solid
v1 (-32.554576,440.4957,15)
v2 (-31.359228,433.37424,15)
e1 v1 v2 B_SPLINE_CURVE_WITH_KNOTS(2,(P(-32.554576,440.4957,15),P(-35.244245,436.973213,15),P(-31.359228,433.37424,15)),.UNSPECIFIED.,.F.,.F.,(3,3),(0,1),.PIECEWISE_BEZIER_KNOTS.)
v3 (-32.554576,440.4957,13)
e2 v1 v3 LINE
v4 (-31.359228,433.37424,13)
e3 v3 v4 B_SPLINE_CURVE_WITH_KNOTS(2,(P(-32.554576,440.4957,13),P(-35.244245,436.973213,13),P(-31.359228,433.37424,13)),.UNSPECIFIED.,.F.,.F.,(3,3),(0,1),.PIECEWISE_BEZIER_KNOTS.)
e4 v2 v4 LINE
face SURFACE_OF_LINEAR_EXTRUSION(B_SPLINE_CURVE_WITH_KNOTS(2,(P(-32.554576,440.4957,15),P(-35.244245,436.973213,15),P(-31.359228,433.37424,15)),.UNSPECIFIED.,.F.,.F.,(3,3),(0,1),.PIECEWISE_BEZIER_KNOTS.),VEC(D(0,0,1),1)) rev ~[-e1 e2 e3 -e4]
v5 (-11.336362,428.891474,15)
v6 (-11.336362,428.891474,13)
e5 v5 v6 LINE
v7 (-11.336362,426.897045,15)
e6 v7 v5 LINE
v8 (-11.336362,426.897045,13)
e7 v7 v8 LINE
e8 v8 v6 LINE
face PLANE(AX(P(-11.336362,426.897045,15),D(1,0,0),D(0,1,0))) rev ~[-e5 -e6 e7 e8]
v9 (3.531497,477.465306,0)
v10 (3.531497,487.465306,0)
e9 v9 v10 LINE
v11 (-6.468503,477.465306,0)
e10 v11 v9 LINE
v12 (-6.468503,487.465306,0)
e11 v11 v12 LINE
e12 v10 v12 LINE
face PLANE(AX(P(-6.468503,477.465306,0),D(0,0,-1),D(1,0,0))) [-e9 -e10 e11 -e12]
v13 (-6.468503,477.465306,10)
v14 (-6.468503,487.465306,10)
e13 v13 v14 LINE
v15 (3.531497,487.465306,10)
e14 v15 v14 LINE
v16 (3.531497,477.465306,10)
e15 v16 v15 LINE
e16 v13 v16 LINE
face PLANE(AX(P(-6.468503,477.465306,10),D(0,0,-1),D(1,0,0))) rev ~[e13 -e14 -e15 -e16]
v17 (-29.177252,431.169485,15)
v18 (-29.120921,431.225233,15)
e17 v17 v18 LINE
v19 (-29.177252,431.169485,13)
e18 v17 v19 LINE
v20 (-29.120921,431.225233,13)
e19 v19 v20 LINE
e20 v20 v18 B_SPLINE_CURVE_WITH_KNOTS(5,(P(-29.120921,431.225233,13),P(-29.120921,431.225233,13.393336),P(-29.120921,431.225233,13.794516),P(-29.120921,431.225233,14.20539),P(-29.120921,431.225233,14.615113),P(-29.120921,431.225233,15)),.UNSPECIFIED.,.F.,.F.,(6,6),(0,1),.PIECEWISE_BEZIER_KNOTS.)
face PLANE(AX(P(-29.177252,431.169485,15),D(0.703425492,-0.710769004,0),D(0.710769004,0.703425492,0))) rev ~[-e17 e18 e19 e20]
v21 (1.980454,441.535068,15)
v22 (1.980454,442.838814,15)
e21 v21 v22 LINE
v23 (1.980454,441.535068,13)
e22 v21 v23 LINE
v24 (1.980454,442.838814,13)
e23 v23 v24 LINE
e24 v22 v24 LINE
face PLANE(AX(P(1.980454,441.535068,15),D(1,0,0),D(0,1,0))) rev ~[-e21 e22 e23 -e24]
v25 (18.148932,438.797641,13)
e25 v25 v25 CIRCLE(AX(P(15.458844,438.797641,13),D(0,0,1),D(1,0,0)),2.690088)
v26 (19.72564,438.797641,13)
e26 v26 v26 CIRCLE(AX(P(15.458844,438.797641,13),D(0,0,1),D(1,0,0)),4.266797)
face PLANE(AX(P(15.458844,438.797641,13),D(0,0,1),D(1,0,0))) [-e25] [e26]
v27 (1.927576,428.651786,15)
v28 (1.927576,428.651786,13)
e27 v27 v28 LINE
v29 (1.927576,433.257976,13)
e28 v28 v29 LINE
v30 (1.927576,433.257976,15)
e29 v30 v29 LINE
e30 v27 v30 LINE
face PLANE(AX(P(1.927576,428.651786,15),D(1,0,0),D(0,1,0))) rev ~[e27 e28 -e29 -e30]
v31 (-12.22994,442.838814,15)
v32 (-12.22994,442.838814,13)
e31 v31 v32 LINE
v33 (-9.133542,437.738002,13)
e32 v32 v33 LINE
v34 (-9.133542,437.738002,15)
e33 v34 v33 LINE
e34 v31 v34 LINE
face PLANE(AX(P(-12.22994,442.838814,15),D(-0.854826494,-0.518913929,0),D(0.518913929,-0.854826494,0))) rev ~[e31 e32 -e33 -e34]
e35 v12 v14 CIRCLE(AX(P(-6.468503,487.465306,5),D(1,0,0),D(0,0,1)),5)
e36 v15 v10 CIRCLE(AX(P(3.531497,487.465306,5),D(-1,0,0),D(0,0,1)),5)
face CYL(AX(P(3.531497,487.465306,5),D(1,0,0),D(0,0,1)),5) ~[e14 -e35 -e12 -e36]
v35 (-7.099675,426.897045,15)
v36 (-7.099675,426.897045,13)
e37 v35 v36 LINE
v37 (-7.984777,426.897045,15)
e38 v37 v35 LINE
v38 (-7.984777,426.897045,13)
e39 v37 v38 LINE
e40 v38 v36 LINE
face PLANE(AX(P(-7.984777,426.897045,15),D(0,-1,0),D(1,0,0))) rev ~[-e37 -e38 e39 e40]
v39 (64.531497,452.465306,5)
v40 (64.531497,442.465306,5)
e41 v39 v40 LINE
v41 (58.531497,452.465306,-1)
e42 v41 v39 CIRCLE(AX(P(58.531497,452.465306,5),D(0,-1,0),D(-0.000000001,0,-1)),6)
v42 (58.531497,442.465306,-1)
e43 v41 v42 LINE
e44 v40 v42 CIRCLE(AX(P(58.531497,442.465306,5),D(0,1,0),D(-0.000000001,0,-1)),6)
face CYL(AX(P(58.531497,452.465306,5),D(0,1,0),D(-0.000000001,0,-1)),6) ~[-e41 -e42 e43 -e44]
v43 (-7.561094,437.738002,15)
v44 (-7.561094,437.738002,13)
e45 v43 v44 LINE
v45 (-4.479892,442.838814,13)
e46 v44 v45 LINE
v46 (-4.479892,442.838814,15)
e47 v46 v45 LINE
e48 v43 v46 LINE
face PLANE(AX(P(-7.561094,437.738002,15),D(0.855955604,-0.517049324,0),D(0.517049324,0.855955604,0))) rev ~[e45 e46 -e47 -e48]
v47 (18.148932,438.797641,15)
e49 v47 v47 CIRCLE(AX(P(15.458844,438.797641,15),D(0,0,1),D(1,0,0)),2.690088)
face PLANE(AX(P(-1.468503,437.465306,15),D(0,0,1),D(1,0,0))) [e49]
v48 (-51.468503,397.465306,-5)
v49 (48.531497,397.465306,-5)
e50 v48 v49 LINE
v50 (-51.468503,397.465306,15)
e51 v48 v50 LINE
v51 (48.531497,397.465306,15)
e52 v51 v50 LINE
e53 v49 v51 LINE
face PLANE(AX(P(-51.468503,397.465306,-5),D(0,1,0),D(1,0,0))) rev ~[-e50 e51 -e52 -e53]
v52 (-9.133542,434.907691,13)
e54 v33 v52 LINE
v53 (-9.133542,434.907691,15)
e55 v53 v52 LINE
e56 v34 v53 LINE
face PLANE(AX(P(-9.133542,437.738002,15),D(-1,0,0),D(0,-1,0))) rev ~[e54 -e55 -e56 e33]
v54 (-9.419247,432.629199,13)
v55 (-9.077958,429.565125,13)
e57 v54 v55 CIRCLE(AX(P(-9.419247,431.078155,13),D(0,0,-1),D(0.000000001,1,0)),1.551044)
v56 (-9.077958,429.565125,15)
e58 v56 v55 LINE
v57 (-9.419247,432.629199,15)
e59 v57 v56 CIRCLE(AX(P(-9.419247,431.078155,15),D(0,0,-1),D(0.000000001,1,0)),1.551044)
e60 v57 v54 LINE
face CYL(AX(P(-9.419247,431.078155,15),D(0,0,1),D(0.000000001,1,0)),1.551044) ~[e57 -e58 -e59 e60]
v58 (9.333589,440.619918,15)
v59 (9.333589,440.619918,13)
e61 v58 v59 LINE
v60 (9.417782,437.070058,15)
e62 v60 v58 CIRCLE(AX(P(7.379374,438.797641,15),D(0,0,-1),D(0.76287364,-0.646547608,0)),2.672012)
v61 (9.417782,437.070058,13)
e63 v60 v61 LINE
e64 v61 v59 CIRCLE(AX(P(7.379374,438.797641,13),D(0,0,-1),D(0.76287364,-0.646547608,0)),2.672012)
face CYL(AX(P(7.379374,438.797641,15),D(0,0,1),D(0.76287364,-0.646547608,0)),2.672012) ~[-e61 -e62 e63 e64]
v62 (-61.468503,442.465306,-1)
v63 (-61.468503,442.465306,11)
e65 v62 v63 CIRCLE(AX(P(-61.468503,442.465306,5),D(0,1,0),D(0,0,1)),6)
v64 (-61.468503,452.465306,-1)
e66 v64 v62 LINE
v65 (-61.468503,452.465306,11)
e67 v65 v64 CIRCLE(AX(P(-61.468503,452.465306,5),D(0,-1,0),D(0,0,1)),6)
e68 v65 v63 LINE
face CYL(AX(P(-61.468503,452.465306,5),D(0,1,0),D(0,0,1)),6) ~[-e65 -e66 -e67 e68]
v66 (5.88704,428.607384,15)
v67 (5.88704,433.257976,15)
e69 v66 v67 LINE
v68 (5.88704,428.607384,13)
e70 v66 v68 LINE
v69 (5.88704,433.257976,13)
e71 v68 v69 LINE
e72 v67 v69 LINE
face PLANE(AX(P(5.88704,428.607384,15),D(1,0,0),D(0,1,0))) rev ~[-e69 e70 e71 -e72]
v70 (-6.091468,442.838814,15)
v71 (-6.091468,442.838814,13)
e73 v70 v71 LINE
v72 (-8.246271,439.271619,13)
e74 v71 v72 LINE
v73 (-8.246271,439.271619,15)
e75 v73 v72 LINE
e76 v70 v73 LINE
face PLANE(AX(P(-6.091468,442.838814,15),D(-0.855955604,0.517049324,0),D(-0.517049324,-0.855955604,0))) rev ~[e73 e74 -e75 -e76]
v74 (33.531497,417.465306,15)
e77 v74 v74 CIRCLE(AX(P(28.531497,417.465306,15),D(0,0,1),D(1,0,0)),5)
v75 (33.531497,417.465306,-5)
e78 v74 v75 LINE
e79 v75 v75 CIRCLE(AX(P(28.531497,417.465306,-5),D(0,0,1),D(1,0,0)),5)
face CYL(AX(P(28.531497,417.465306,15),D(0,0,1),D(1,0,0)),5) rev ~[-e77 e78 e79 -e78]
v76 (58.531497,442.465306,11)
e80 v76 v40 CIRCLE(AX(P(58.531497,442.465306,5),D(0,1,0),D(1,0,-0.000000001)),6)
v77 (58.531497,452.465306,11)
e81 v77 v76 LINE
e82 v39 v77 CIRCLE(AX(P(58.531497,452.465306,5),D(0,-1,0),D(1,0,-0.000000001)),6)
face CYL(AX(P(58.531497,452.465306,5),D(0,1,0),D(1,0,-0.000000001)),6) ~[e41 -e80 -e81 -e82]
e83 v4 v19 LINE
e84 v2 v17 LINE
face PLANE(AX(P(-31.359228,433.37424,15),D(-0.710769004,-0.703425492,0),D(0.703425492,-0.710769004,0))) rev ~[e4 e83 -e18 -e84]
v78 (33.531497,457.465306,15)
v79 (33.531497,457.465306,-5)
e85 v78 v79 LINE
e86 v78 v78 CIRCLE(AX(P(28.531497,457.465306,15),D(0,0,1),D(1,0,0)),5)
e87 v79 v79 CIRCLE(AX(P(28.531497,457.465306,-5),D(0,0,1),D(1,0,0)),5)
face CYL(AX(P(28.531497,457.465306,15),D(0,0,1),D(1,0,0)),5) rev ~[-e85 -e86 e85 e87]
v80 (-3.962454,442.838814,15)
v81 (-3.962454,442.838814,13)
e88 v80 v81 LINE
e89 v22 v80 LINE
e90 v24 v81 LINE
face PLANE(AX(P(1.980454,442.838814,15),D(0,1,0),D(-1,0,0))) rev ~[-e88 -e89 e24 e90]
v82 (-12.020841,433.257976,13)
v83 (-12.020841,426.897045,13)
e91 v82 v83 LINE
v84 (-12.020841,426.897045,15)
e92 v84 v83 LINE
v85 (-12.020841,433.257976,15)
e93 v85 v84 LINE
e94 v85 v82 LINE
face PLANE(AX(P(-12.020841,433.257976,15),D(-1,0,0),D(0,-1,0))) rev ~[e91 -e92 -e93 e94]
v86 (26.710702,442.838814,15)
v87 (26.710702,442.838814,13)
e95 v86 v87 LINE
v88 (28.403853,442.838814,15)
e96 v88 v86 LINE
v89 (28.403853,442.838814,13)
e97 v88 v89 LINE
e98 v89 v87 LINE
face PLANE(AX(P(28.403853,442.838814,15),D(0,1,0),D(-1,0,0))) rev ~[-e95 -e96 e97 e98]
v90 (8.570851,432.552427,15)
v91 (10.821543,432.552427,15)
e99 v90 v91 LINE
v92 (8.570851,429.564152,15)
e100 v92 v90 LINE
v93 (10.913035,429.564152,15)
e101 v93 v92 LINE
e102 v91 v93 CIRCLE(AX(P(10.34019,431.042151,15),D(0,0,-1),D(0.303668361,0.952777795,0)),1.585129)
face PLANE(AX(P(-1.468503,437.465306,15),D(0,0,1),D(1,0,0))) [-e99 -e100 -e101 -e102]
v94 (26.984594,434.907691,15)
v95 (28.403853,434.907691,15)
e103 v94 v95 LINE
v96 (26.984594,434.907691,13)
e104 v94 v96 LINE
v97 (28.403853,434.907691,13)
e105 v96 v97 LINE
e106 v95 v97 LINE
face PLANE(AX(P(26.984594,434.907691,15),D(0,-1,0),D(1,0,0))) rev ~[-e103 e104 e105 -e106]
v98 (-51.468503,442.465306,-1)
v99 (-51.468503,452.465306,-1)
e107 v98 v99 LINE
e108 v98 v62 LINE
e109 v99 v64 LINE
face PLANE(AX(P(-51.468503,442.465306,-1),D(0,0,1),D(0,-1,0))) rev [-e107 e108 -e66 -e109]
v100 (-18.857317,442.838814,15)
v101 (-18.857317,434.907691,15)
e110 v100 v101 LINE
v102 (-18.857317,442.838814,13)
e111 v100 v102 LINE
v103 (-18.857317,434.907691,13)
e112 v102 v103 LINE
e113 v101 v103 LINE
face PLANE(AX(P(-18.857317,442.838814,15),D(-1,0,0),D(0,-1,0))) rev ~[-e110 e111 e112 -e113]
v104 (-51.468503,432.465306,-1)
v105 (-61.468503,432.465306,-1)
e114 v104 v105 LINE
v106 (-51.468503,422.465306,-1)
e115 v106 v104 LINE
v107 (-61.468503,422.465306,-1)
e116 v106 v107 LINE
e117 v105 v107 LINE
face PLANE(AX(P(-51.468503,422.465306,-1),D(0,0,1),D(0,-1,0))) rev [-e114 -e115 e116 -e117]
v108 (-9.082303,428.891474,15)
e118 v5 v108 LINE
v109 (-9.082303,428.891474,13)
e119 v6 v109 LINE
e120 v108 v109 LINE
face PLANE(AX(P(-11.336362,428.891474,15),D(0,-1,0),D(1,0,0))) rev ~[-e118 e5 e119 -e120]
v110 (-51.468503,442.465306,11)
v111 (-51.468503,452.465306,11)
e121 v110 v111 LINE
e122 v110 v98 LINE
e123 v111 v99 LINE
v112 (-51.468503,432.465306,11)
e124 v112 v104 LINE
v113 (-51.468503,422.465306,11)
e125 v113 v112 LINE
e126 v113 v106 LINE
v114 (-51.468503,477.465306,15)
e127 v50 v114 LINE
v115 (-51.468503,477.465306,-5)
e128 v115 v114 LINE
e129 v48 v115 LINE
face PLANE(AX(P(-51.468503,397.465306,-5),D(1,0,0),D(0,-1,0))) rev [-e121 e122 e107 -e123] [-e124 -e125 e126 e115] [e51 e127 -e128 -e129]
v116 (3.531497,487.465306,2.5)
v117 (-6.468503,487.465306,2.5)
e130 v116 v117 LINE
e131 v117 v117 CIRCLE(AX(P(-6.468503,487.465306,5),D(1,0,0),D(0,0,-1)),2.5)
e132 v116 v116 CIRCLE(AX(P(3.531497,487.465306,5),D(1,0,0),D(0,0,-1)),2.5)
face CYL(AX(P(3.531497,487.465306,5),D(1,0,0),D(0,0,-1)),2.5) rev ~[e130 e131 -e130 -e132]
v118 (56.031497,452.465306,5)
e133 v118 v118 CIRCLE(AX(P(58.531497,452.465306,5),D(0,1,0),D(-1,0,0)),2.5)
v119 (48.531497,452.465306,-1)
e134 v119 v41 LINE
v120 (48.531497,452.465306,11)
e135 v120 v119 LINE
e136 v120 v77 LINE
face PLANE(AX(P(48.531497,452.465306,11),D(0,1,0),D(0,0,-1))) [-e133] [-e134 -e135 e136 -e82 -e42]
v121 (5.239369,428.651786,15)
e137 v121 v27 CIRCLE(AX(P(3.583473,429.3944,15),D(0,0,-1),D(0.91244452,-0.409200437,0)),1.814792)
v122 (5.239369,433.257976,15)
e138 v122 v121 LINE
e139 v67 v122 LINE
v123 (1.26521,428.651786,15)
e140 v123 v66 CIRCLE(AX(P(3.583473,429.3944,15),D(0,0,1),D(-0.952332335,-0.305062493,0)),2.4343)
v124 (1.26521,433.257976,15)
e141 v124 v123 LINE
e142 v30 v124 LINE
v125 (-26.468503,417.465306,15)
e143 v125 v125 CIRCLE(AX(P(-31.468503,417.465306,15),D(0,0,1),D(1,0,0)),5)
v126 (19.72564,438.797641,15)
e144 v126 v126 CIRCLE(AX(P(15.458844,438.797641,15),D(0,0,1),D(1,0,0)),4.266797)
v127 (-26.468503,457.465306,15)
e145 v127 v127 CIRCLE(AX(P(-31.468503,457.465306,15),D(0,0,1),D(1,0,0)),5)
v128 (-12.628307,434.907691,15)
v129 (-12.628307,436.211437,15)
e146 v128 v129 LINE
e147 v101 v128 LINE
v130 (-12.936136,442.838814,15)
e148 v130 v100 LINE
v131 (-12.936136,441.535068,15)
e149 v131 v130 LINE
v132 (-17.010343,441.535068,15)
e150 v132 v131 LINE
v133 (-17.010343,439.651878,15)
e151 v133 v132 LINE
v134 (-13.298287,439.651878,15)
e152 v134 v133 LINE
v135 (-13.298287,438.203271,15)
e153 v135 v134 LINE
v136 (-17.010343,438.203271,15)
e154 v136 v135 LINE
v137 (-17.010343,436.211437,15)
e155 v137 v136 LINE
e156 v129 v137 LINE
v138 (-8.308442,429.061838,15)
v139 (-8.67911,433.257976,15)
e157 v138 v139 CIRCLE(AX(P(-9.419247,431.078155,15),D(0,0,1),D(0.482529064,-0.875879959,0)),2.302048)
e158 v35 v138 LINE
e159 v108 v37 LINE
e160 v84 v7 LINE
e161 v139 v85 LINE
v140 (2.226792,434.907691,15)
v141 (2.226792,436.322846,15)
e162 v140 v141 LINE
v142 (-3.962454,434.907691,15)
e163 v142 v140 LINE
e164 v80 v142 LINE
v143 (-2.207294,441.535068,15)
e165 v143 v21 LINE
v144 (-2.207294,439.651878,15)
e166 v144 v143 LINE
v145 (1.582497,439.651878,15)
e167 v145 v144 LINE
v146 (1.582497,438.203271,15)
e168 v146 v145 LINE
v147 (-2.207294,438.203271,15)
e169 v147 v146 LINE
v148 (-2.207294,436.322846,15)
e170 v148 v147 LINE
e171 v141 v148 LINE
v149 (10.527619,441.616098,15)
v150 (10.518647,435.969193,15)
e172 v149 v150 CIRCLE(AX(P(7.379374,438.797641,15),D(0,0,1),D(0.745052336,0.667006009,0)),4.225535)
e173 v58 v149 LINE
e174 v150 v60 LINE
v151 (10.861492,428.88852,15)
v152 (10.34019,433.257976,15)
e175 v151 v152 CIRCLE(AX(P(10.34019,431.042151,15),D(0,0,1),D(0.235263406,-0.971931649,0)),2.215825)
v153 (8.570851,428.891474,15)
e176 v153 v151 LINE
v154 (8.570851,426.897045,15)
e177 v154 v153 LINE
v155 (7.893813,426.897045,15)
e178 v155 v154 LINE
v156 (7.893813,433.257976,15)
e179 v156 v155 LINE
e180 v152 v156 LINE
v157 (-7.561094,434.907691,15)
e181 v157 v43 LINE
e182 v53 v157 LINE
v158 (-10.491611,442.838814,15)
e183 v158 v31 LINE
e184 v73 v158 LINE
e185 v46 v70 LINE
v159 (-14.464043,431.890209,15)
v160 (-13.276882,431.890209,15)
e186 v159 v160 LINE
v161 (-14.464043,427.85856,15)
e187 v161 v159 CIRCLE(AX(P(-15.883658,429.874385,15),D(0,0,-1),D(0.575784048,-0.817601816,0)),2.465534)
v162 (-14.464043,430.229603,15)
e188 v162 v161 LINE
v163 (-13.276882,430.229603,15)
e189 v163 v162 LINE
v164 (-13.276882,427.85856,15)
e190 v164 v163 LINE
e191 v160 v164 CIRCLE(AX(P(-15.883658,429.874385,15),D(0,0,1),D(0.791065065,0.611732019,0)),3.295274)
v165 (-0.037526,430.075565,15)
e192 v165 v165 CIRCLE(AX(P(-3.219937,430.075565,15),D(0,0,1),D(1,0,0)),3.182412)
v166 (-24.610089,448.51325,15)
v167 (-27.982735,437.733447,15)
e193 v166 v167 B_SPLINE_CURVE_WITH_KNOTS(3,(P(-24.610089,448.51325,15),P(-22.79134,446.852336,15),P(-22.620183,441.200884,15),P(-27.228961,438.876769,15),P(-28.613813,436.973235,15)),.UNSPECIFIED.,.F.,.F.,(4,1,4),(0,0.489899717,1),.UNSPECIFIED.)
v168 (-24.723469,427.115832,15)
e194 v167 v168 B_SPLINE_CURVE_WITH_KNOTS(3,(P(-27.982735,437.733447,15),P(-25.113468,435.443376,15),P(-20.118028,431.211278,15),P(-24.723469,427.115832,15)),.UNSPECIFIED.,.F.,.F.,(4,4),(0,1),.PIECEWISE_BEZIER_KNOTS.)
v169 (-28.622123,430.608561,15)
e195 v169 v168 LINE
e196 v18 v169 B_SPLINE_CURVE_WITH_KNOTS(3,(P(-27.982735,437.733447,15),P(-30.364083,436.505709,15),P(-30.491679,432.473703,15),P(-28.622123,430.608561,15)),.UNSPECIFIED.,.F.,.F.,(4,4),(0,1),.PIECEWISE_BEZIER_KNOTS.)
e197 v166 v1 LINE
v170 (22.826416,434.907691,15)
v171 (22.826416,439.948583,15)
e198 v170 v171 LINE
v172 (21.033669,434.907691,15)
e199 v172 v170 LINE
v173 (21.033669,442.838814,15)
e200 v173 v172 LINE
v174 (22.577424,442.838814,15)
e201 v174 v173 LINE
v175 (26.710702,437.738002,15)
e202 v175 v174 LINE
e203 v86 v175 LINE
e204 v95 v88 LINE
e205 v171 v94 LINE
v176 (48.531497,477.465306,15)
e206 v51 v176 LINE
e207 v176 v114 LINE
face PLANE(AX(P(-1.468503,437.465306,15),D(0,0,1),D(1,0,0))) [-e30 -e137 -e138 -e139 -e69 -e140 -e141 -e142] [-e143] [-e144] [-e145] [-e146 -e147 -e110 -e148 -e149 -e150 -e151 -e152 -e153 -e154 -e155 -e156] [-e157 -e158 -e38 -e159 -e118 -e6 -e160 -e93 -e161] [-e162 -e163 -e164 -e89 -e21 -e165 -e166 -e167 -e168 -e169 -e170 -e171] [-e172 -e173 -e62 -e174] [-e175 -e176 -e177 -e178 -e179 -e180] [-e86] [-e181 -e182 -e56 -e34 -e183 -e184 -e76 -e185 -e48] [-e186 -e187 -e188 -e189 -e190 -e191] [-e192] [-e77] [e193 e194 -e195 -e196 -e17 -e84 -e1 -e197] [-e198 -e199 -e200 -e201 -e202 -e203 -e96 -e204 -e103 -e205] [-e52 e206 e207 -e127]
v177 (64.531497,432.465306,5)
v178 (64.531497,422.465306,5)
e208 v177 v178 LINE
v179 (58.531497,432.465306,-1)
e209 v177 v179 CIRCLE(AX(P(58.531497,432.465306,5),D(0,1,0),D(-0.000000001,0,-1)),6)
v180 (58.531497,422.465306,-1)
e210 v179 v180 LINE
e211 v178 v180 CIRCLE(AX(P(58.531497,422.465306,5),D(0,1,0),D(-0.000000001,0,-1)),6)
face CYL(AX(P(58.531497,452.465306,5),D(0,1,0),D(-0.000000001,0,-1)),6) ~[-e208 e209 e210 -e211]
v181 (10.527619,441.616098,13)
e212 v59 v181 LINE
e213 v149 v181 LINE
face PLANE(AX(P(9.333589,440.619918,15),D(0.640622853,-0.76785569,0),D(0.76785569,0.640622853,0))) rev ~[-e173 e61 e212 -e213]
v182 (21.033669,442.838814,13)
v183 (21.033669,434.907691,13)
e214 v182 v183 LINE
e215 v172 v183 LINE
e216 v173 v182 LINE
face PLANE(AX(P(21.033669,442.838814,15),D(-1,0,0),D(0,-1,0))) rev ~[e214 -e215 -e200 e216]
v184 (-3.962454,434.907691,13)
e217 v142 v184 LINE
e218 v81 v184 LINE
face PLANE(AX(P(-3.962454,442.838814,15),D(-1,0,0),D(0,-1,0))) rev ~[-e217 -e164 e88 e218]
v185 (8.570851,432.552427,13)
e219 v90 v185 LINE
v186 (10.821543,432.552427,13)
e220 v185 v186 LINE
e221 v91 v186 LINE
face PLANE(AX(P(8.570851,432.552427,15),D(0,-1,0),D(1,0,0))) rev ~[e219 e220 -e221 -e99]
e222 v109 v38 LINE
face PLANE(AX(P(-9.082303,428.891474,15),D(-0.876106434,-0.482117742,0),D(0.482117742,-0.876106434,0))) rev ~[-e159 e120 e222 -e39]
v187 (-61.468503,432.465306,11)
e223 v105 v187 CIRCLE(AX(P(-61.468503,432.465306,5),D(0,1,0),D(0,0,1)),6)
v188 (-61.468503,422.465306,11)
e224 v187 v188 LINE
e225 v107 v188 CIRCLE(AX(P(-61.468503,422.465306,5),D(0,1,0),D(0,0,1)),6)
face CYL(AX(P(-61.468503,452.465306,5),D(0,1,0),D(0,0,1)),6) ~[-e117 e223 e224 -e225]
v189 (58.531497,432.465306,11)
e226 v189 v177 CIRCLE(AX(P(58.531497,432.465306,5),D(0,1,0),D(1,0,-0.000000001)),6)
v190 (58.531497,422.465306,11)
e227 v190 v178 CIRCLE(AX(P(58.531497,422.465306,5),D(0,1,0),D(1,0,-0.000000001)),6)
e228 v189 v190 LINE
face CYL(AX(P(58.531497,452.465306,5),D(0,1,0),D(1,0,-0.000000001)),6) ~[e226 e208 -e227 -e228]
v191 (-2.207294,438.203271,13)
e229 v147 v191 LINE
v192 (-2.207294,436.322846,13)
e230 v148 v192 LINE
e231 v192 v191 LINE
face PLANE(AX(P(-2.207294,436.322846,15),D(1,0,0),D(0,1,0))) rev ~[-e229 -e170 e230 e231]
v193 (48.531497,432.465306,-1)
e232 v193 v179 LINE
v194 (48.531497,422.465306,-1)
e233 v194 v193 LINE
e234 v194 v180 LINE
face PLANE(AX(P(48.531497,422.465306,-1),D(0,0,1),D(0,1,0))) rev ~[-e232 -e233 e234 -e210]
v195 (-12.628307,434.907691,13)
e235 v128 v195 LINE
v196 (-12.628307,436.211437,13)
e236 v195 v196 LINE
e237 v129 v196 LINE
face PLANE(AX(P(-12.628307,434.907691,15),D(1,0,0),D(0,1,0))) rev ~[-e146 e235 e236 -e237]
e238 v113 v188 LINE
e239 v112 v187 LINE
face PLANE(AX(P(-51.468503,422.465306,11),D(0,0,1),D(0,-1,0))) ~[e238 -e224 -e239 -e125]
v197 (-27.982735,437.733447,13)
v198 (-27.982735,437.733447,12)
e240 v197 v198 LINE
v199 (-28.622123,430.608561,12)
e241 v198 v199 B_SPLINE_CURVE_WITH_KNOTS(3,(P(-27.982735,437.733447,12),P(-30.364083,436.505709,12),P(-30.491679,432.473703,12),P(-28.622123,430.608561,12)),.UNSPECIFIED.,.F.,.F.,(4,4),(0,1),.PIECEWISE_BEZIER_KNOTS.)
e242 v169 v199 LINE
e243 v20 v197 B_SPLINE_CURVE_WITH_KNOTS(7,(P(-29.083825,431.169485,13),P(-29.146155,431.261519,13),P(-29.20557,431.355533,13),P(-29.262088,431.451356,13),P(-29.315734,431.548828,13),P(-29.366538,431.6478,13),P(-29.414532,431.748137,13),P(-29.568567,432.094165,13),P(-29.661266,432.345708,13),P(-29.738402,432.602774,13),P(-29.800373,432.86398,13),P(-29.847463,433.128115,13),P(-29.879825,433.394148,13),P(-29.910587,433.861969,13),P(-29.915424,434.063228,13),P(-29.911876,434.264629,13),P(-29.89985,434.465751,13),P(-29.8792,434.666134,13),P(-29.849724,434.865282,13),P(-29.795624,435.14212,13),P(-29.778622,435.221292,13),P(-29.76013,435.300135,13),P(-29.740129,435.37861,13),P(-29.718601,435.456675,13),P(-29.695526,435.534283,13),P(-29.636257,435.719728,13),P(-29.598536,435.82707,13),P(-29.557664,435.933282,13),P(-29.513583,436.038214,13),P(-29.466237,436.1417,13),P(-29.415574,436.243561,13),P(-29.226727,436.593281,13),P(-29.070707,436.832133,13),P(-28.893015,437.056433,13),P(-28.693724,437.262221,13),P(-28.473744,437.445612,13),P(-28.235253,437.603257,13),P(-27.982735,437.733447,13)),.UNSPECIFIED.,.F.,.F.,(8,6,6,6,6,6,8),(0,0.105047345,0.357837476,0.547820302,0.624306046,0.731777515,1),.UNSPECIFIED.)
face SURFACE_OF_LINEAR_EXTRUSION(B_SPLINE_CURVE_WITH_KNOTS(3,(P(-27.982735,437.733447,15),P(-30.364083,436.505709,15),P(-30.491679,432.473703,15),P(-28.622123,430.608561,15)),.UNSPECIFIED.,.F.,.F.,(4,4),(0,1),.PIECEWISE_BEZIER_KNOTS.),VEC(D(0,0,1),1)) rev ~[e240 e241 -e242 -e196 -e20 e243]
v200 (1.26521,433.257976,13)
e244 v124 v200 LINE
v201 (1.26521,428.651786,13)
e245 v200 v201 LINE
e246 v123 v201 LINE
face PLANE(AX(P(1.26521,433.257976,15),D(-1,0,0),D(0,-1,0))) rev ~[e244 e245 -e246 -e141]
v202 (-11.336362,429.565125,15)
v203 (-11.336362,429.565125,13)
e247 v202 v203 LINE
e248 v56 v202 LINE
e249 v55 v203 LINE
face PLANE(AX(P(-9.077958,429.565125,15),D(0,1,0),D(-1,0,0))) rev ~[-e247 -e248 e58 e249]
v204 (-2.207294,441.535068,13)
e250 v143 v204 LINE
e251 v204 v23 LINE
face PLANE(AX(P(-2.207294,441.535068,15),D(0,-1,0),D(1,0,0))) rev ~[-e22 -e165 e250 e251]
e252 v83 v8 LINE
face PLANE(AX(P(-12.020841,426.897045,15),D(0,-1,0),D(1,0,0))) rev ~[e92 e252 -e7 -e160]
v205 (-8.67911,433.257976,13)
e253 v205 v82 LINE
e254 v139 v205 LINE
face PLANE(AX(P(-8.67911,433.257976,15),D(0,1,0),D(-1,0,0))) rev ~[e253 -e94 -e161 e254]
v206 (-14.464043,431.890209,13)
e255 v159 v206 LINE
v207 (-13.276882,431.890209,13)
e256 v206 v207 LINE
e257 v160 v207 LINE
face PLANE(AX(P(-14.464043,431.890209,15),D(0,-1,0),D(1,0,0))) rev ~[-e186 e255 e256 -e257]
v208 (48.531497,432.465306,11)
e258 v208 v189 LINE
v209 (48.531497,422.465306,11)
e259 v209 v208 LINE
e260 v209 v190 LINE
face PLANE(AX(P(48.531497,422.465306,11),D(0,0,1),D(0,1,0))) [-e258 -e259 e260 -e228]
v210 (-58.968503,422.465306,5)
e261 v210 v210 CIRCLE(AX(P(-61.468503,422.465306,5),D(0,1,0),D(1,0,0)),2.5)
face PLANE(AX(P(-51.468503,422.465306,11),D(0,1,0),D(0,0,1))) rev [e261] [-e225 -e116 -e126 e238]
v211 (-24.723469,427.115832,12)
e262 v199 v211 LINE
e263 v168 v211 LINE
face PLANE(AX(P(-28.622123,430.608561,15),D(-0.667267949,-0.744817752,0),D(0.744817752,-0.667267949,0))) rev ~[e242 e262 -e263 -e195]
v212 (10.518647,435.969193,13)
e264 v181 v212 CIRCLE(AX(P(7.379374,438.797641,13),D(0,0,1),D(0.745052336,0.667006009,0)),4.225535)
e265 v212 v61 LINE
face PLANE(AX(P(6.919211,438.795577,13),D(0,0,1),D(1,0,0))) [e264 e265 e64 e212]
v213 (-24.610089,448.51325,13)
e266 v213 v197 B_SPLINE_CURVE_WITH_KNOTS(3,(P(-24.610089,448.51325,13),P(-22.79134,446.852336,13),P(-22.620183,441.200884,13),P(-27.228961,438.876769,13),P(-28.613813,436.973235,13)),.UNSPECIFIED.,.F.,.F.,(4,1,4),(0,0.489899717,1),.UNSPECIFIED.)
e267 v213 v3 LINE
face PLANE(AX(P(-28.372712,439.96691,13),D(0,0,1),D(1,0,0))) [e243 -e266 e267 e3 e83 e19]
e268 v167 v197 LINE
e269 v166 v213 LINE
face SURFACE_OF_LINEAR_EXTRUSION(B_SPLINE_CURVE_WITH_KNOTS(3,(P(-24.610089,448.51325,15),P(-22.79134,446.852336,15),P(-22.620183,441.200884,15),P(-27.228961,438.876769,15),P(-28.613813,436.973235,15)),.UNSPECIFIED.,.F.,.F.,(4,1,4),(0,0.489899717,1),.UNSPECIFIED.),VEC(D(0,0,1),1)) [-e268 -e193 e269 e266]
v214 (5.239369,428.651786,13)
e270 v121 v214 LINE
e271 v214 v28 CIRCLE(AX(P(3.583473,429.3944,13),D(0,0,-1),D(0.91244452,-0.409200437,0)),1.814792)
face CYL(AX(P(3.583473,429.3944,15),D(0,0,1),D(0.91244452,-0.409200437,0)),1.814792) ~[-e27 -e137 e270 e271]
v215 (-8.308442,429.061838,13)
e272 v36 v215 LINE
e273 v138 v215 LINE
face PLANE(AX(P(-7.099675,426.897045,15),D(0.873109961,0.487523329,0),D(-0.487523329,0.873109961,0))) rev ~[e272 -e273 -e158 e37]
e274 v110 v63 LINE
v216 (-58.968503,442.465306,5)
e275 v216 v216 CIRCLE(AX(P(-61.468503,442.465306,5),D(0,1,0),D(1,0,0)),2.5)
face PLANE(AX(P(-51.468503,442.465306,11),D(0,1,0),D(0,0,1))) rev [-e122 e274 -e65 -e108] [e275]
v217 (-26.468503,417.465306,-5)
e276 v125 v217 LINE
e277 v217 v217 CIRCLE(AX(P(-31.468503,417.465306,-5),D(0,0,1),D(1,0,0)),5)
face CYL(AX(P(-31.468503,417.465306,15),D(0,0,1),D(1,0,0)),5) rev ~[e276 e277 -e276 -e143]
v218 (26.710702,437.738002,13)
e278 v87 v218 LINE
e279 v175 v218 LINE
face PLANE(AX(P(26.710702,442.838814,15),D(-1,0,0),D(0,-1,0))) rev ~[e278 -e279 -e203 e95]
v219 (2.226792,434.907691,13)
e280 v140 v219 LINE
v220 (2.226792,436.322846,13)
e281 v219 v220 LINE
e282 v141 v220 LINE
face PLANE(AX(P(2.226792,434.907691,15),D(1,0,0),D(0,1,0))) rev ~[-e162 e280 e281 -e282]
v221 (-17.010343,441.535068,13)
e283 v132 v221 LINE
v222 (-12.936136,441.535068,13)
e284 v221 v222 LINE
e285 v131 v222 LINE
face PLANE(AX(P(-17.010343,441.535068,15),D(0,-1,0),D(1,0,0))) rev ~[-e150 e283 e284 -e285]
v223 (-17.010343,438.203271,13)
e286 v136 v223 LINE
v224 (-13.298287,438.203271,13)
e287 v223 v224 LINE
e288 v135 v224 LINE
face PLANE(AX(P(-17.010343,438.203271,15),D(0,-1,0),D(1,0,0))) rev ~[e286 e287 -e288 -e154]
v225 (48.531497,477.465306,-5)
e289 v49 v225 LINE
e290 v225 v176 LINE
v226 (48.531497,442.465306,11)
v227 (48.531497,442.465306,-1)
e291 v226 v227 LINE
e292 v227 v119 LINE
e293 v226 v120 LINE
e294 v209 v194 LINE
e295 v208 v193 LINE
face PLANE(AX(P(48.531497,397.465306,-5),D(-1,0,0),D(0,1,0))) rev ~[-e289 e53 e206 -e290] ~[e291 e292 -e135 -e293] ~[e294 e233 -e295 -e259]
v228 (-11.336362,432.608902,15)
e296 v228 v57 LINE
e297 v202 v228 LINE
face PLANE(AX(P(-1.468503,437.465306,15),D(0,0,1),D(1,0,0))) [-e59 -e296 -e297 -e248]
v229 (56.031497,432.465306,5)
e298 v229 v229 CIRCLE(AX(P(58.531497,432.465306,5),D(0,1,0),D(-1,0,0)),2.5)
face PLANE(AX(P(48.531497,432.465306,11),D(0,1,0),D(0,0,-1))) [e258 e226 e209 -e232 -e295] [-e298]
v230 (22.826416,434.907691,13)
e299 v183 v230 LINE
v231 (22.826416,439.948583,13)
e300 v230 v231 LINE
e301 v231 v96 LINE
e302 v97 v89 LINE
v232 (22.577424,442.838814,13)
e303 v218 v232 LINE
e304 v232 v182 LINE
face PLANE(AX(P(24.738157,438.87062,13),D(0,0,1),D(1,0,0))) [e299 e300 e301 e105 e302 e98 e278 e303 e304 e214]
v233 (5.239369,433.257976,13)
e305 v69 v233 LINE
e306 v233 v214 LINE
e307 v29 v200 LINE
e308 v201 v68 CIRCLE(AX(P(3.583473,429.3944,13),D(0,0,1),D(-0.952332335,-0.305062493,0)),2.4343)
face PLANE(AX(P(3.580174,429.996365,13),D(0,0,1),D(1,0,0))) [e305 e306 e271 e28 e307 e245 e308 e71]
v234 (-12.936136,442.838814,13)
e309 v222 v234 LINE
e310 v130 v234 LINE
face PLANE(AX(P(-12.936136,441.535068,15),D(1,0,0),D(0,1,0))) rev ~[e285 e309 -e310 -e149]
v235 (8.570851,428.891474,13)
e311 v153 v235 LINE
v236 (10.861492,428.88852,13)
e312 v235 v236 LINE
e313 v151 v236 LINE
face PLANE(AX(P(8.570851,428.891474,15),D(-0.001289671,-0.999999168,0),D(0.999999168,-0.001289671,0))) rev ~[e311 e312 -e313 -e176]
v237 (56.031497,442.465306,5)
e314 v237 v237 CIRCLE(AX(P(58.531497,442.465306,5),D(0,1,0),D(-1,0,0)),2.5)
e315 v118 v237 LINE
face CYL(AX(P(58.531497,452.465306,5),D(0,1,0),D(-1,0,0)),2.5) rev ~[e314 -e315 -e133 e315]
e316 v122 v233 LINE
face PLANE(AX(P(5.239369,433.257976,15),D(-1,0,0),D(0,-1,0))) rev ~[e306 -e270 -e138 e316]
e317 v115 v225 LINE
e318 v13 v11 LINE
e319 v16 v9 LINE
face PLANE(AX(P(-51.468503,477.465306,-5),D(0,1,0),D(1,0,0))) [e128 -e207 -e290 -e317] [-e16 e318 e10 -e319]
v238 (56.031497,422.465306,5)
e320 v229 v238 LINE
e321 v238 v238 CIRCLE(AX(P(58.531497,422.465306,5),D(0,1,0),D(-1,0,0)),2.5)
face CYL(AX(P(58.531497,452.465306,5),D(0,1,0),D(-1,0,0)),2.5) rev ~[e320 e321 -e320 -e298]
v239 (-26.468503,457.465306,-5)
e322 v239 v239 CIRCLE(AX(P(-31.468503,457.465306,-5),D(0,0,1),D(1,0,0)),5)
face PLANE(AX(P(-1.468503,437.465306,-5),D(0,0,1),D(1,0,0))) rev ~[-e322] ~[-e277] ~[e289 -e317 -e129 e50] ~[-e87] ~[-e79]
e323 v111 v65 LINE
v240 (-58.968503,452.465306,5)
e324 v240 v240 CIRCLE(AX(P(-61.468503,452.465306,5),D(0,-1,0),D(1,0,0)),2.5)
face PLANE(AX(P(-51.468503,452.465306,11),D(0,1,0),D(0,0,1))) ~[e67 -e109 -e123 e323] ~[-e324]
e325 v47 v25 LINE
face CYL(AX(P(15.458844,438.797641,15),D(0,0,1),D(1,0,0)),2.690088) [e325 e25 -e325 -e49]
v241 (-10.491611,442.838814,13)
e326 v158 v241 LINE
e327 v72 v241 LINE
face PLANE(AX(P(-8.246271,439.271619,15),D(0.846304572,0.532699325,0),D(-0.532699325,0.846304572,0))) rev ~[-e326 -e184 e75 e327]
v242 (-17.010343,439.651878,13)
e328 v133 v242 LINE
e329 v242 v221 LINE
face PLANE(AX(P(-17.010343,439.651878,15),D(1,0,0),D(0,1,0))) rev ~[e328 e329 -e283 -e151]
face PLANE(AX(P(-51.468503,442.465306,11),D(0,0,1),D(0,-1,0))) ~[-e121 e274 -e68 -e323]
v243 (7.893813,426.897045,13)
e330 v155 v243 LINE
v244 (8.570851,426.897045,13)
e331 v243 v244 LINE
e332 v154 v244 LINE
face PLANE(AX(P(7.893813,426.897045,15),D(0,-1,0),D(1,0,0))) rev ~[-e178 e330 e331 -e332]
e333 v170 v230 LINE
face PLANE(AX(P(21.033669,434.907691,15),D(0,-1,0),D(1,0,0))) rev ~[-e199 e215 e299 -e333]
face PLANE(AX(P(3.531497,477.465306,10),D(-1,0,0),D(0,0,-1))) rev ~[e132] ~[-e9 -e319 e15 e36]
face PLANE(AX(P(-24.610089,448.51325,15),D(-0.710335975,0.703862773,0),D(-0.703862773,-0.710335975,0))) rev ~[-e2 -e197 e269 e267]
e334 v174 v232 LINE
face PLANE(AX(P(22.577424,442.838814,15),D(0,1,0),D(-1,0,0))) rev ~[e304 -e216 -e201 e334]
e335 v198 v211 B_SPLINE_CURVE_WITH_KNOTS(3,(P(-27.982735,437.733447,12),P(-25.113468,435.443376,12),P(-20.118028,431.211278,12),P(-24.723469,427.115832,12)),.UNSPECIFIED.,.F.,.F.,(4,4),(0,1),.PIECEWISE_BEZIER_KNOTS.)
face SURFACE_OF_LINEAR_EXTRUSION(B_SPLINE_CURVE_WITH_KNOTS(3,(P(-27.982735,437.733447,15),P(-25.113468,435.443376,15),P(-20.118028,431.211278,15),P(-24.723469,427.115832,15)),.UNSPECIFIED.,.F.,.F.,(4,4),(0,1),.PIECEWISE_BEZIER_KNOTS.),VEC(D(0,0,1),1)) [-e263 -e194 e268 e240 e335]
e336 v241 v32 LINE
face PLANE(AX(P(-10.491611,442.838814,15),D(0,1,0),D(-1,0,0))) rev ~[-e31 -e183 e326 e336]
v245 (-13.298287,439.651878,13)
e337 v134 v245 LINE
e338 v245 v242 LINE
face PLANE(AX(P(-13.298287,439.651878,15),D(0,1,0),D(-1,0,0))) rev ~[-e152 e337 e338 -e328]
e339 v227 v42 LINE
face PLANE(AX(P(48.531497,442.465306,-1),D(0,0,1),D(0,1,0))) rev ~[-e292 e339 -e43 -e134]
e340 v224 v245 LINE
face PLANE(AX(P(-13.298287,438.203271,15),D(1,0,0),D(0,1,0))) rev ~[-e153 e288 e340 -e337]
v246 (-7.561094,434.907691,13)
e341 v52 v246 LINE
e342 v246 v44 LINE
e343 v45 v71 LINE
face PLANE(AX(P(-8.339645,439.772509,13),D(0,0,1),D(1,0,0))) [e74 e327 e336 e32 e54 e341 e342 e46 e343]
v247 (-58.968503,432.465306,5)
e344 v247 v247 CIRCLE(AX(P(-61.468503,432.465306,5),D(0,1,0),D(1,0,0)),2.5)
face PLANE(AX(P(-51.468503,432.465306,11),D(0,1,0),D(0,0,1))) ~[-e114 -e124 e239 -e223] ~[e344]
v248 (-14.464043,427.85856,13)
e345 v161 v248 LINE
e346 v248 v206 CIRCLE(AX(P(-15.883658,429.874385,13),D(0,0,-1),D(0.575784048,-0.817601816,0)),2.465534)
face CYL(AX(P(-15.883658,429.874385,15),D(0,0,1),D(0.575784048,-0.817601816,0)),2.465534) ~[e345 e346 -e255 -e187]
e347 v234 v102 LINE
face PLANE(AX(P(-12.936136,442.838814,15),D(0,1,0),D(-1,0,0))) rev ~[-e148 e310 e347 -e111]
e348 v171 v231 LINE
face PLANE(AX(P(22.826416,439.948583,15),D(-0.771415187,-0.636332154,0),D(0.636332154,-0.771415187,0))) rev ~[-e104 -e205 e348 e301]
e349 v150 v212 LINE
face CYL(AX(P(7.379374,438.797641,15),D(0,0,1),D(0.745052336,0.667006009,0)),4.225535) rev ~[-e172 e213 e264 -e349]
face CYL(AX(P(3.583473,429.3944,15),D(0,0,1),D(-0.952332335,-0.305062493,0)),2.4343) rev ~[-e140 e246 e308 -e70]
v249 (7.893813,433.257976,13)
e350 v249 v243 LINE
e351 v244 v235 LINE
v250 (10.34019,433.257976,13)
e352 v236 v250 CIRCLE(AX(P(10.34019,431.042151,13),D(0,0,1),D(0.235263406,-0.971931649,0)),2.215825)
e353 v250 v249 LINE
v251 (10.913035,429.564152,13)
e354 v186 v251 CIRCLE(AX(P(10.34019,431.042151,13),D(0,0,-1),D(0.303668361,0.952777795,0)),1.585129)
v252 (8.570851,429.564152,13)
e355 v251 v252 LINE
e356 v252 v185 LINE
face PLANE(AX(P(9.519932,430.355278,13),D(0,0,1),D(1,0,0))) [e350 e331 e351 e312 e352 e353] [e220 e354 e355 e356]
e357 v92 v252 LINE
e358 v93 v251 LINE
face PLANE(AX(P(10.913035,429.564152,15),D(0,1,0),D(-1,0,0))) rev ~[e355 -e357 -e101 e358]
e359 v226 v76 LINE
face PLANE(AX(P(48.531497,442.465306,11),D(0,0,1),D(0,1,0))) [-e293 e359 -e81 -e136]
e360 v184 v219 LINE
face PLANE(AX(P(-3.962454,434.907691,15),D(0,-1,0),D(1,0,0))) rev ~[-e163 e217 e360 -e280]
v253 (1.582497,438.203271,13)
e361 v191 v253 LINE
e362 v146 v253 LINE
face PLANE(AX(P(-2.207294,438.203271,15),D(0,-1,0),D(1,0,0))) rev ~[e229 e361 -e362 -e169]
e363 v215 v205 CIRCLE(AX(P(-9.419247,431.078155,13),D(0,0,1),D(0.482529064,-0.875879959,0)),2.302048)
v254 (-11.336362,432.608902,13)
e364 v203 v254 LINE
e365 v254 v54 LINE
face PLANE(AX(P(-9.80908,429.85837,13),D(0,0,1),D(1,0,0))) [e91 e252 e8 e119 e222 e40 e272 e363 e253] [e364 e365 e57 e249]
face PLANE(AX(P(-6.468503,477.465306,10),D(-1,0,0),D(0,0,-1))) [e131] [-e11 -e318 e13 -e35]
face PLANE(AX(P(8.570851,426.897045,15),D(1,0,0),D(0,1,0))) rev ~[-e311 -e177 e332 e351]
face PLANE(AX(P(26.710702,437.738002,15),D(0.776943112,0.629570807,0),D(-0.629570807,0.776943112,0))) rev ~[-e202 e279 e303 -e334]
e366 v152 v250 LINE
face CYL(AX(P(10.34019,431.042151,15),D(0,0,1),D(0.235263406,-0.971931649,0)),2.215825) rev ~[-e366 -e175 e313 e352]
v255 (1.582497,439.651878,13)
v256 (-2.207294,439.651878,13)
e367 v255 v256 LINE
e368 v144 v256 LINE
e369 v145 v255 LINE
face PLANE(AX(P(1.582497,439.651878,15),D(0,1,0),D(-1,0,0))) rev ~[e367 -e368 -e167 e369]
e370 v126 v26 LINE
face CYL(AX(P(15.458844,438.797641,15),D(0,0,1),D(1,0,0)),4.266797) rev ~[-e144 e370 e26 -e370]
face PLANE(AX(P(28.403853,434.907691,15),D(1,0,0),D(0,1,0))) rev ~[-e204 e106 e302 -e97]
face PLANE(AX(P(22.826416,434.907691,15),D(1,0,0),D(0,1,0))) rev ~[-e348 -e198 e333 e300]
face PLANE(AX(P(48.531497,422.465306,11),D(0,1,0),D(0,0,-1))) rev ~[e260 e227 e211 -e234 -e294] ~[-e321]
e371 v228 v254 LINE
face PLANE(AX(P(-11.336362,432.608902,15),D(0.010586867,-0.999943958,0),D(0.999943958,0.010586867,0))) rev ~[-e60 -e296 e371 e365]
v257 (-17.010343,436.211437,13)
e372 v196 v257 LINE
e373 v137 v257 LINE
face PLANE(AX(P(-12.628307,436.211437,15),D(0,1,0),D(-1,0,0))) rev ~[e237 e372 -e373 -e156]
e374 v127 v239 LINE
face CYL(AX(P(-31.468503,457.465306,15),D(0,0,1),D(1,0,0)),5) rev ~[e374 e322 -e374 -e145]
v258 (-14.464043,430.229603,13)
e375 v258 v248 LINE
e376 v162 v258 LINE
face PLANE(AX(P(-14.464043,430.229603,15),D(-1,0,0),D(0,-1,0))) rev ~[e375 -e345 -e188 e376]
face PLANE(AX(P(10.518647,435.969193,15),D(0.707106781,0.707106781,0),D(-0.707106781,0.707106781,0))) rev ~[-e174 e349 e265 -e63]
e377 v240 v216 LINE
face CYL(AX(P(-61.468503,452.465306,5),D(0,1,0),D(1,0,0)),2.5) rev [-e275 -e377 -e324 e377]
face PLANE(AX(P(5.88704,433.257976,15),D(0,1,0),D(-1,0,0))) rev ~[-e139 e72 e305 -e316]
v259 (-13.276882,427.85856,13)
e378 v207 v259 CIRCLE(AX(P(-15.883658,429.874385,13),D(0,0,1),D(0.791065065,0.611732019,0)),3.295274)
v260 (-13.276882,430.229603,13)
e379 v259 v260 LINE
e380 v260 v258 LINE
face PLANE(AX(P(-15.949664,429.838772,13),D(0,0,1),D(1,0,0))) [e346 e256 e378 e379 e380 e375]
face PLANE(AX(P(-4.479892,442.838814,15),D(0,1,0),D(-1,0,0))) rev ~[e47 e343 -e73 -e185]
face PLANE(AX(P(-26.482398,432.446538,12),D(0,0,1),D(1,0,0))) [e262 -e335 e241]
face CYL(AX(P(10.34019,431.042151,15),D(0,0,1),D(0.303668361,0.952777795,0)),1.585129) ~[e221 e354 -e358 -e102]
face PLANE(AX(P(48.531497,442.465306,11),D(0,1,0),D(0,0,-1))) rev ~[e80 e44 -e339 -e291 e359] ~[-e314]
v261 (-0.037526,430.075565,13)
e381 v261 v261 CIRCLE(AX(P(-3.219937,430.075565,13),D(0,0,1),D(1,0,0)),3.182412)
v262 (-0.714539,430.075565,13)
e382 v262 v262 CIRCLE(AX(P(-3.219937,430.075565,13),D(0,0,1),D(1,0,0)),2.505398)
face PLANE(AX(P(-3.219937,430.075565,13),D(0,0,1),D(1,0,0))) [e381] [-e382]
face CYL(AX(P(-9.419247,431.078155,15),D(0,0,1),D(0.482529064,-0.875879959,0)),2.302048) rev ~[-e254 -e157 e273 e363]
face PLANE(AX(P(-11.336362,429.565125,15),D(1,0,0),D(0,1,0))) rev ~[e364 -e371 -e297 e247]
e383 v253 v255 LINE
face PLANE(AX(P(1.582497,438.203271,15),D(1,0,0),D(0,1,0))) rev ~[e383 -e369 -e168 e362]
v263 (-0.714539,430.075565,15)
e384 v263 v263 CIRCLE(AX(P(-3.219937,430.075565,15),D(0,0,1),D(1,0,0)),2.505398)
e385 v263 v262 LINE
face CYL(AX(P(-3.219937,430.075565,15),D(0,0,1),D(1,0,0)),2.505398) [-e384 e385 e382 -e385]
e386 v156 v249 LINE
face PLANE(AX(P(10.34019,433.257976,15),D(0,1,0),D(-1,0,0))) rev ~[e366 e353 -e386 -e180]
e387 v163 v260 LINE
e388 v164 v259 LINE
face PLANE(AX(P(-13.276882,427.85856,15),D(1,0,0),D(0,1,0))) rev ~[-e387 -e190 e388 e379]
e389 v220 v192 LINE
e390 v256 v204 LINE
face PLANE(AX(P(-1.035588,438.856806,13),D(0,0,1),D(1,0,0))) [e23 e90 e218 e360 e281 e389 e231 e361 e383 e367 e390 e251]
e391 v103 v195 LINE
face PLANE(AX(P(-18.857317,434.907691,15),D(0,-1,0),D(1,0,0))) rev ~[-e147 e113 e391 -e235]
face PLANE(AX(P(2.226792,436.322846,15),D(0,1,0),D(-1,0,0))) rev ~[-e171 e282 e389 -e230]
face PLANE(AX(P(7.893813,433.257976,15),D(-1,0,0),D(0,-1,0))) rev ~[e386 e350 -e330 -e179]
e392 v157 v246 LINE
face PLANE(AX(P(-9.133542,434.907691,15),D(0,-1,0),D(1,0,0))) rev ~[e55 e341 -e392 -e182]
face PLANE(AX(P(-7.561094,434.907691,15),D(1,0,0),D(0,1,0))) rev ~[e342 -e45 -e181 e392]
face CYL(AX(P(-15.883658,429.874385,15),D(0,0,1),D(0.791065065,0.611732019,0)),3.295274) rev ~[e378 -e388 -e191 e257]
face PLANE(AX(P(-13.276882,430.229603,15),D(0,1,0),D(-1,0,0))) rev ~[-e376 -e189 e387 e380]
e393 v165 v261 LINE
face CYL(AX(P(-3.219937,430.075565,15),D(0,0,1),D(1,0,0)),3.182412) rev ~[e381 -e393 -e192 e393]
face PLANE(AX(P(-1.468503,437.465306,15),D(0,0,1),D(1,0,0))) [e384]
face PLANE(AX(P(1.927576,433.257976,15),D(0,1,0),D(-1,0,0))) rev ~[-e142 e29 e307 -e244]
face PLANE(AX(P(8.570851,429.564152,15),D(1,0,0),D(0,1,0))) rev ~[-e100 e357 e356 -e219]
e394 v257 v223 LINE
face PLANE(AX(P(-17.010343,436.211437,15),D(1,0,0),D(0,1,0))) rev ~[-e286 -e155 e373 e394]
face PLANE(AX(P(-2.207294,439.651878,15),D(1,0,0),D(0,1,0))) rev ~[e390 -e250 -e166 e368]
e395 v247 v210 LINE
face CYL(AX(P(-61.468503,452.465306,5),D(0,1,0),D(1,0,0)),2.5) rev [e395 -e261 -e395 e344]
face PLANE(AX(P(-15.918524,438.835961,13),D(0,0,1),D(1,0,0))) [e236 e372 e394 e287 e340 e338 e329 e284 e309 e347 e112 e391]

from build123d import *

# Parameters (mm, degrees)
SKETCH1_W           = 50
SKETCH1_H           = 40
BOSS_EXTRUDE1_DEPTH = 10
SKETCH5_W           = 6
SKETCH5_H           = 5
BOSS_EXTRUDE3_DEPTH = 10
SKETCH6_R           = 1.25
CUT_EXTRUDE1_DEPTH  = 20
SKETCH8_W           = 10
SKETCH8_H           = 40
CUT_EXTRUDE2_DEPTH  = 25
SKETCH12_W          = 5
SKETCH12_H          = 5
BOSS_EXTRUDE5_DEPTH = 10
SKETCH13_R          = 1.25
CUT_EXTRUDE4_DEPTH  = 10
SKETCH14_R          = 2.5
CUT_EXTRUDE5_DEPTH  = 10
CUT_EXTRUDE6_DEPTH  = 22
CUT_EXTRUDE7_DEPTH  = 30
CUT_EXTRUDE8_DEPTH  = 30
SCALE1_SCALE        = 2
CUT_EXTRUDE31_DEPTH = 2
SKETCH24_R          = 4.266796814
SKETCH24_R_2        = 2.690088412
CUT_EXTRUDE32_DEPTH = 2
SKETCH25_R          = 3.182411807
SKETCH25_R_2        = 2.505398091
CUT_EXTRUDE33_DEPTH = 2
CUT_EXTRUDE34_DEPTH = 3


with BuildPart() as part:
    # Sketch1 → Boss-Extrude1 (new body)
    with BuildSketch(Plane(origin=(669.84184187, 0, 0), x_dir=(1, 0, 0), z_dir=(0, 0, 1))):
        with Locations((-671.310344828, 437.637931034)):
            Rectangle(SKETCH1_W, SKETCH1_H)
    boss_extrude1 = extrude(amount=BOSS_EXTRUDE1_DEPTH)

    # Sketch5 → Boss-Extrude3 (add)
    with BuildSketch(Plane(origin=(23.531497042, 0, 0), x_dir=(0, 0, -1), z_dir=(1, 0, 0))):
        with Locations((-5, 442.637931034)):
            Rectangle(SKETCH5_W, SKETCH5_H)
        with Locations((-5, 432.637931034)):
            Rectangle(SKETCH5_W, SKETCH5_H)
    boss_extrude3 = extrude(amount=BOSS_EXTRUDE3_DEPTH)

    # Sketch6 → Cut-Extrude1 (cut)
    with BuildSketch(Plane(origin=(669.84184187, 445.137931034, 0), x_dir=(1, 0, 0), z_dir=(0, 1, 0))):
        with Locations(Location((-641.310344828, -5, 0), (0, 0, 180))):
            Circle(SKETCH6_R)
    cut_extrude1 = extrude(amount=-CUT_EXTRUDE1_DEPTH, mode=Mode.SUBTRACT)

    # Sketch8 → Cut-Extrude2 (cut)
    with BuildSketch(Plane.ZY.offset(26.468502958)):
        with Locations((5, 437.637931034)):
            Rectangle(SKETCH8_W, SKETCH8_H)
    extrude(amount=-CUT_EXTRUDE2_DEPTH, mode=Mode.SUBTRACT)

    # Mirror1: Boss-Extrude1, Boss-Extrude3, Cut-Extrude1 across plane
    add(boss_extrude1.mirror(Plane(origin=(-1.468502958, 0, 0), x_dir=(0, 0, 1), z_dir=(1, 0, 0))))
    add(boss_extrude3.mirror(Plane(origin=(-1.468502958, 0, 0), x_dir=(0, 0, 1), z_dir=(1, 0, 0))))
    add(cut_extrude1.mirror(Plane(origin=(-1.468502958, 0, 0), x_dir=(0, 0, 1), z_dir=(1, 0, 0))), mode=Mode.SUBTRACT)

    # Sketch12 → Boss-Extrude5 (add)
    with BuildSketch(Plane(origin=(0, 457.637931034, 0), x_dir=(1, 0, 0), z_dir=(0, 1, 0))):
        with Locations((-1.468502958, -5)):
            Rectangle(SKETCH12_W, SKETCH12_H)
    extrude(amount=BOSS_EXTRUDE5_DEPTH)

    # Sketch13 → Cut-Extrude4 (cut)
    with BuildSketch(Plane(origin=(1.031497042, 0, 0), x_dir=(0, 0, -1), z_dir=(1, 0, 0))):
        with Locations((-5, 462.637931034)):
            Circle(SKETCH13_R)
    extrude(amount=-CUT_EXTRUDE4_DEPTH, mode=Mode.SUBTRACT)

    # Sketch14 → Cut-Extrude5 (cut)
    with BuildSketch(Plane.XY.offset(10)):
        with Locations((-16.468502958, 447.637931034)):
            Circle(SKETCH14_R)
        with Locations((-16.468502958, 427.637931034)):
            Circle(SKETCH14_R)
        with Locations((13.531497042, 447.637931034)):
            Circle(SKETCH14_R)
        with Locations((13.531497042, 427.637931034)):
            Circle(SKETCH14_R)
    extrude(amount=-CUT_EXTRUDE5_DEPTH, mode=Mode.SUBTRACT)

    # Sketch15 → Cut-Extrude6 (cut)
    with BuildSketch(Plane(origin=(0, 445.137931034, 0), x_dir=(1, 0, 0), z_dir=(0, 1, 0))):
        with BuildLine():
            Line((33.531497042, -2), (28.531497042, -2))
            ThreePointArc((28.531497042, -2), (30.652817386, -2.878679656), (31.531497042, -5))
            ThreePointArc((31.531497042, -5), (30.652817386, -7.121320344), (28.531497042, -8))
            Line((28.531497042, -8), (33.531497042, -8))
            Line((33.531497042, -8), (33.531497042, -2))
        make_face()
    extrude(amount=-CUT_EXTRUDE6_DEPTH, mode=Mode.SUBTRACT)

    # Sketch17 → Cut-Extrude7 (cut)
    with BuildSketch(Plane(origin=(0, 445.137931034, 0), x_dir=(1, 0, 0), z_dir=(0, 1, 0))):
        with BuildLine():
            Line((-36.468502958, -8), (-31.468502958, -8))
            ThreePointArc((-31.468502958, -8), (-34.468502958, -5), (-31.468502958, -2))
            Line((-31.468502958, -2), (-36.468502958, -2))
            Line((-36.468502958, -2), (-36.468502958, -8))
        make_face()
    extrude(amount=-CUT_EXTRUDE7_DEPTH, mode=Mode.SUBTRACT)

    # Sketch18 → Cut-Extrude8 (cut)
    with BuildSketch(Plane(origin=(1.031497042, 0, 0), x_dir=(0, 0, -1), z_dir=(1, 0, 0))):
        with BuildLine():
            Line((-7.5, 467.637931034), (-7.5, 462.637931034))
            ThreePointArc((-7.5, 462.637931034), (-5, 465.137931034), (-2.5, 462.637931034))
            Line((-2.5, 462.637931034), (-2.5, 467.637931034))
            Line((-2.5, 467.637931034), (-7.5, 467.637931034))
        make_face()
    extrude(amount=-CUT_EXTRUDE8_DEPTH, mode=Mode.SUBTRACT)


with BuildPart() as part_1:
    # Scale1: scaled about (-1.468502958, 437.810556227, 5)
    add(part.part.scale(SCALE1_SCALE).moved(Location((1.468502958, -437.810556227, -5))))

    # Sketch21 → Cut-Extrude31 (cut)
    with BuildSketch(Plane.XY.offset(15)):
        with BuildLine():
            Line((-31.359227607, 433.374239798), (-29.177251522, 431.169484661))
            Line((-29.177251522, 431.169484661), (-29.052385686, 431.29306041))
            add(Edge.make_bspline(
                [(-28.613813156, 436.973234913), (-30.855344904, 434.468510352), (-29.052385686, 431.29306041)],
                knots=[0, 0, 0, 0.903685065, 0.903685065, 0.903685065], degree=2))
            add(Edge.make_bspline(
                [(-24.610088794, 448.513250115), (-22.791340342, 446.852336273), (-22.620182569, 441.200883978), (-27.228961405, 438.87676902), (-28.613813156, 436.973234913)],
                knots=[0, 0, 0, 0, 0.489899717, 1, 1, 1, 1], degree=3))
            Line((-24.610088794, 448.513250115), (-32.55457583, 440.495700159))
            add(Edge.make_bspline(
                [(-32.55457583, 440.495700159), (-35.244245053, 436.973213203), (-31.359227607, 433.374239798)],
                knots=[0, 0, 0, 1, 1, 1], degree=2))
        make_face()
    extrude(amount=-CUT_EXTRUDE31_DEPTH, mode=Mode.SUBTRACT)

    # Sketch24 → Cut-Extrude32 (cut)
    # profile 1 of 6: a face of its own
    with BuildSketch(Plane.XY.offset(15)):
        Polygon((-12.936135732, 442.838813833), (-18.857316801, 442.838813833), (-18.857316801, 434.907690568), (-12.628306747, 434.907690568), (-12.628306747, 436.211436858), (-17.010342889, 436.211436858), (-17.010342889, 438.203271468), (-13.29828748, 438.203271468), (-13.29828748, 439.651878457), (-17.010342889, 439.651878457), (-17.010342889, 441.535067543), (-12.936135732, 441.535067543), align=None)
    # profile 2 of 6: a face of its own
    with BuildSketch(Plane.XY.offset(15)):
        Polygon((-10.491611438, 442.838813833), (-12.229939825, 442.838813833), (-9.133542386, 437.738001506), (-9.133542386, 434.907690568), (-7.561093788, 434.907690568), (-7.561093788, 437.738001506), (-4.479892433, 442.838813833), (-6.091467709, 442.838813833), (-8.246270605, 439.271619122), align=None)
    # profile 3 of 6: a face of its own
    with BuildSketch(Plane.XY.offset(15)):
        Polygon((1.980454186, 442.838813833), (-3.96245358, 442.838813833), (-3.96245358, 434.907690568), (2.226792332, 434.907690568), (2.226792332, 436.322846037), (-2.207294292, 436.322846037), (-2.207294292, 438.203271468), (1.582497384, 438.203271468), (1.582497384, 439.651878457), (-2.207294292, 439.651878457), (-2.207294292, 441.535067543), (1.980454186, 441.535067543), align=None)
    # profile 4 of 6: a face of its own
    with BuildSketch(Plane.XY.offset(15)):
        Polygon((22.577423514, 442.838813833), (21.033668764, 442.838813833), (21.033668764, 434.907690568), (22.826416216, 434.907690568), (22.826416216, 439.948582703), (26.984594334, 434.907690568), (28.403852734, 434.907690568), (28.403852734, 442.838813833), (26.710702362, 442.838813833), (26.710702362, 437.738001506), align=None)
    # profile 5 of 6: a face of its own
    with BuildSketch(Plane.XY.offset(15)):
        with BuildLine():
            ThreePointArc((9.417782034, 437.070057734), (4.708113195, 438.734286076), (9.333589322, 440.61991784))
            Line((9.333589322, 440.61991784), (10.52761916, 441.616098256))
            ThreePointArc((10.52761916, 441.616098256), (3.153844431, 438.80435494), (10.518646647, 435.969193121))
            Line((10.518646647, 435.969193121), (9.417782034, 437.070057734))
        make_face()
    # profile 6 of 6: a face of its own
    with BuildSketch(Plane.XY.offset(15)):
        with Locations((15.458843544, 438.797640887)):
            Circle(SKETCH24_R)
        with Locations((15.458843544, 438.797640887)):
            Circle(SKETCH24_R_2, mode=Mode.SUBTRACT)
    extrude(amount=-CUT_EXTRUDE32_DEPTH, mode=Mode.SUBTRACT)

    # Sketch25 → Cut-Extrude33 (cut)
    # profile 1 of 5: a face of its own
    with BuildSketch(Plane.XY.offset(15)):
        with BuildLine():
            ThreePointArc((-13.276881846, 431.890209471), (-19.178932325, 429.874384738), (-13.276881846, 427.858560005))
            Line((-13.276881846, 427.858560005), (-13.276881846, 430.229603415))
            Line((-13.276881846, 430.229603415), (-14.46404323, 430.229603415))
            Line((-14.46404323, 430.229603415), (-14.46404323, 427.858560005))
            ThreePointArc((-14.46404323, 427.858560005), (-18.349191716, 429.874384738), (-14.46404323, 431.890209471))
            Line((-14.46404323, 431.890209471), (-13.276881846, 431.890209471))
        make_face()
    # profile 2 of 5: a face of its own
    with BuildSketch(Plane.XY.offset(15)):
        with BuildLine():
            Line((-8.679110401, 433.257976432), (-12.020840704, 433.257976432))
            Line((-12.020840704, 433.257976432), (-12.020840704, 426.897044958))
            Line((-12.020840704, 426.897044958), (-11.336361993, 426.897044958))
            Line((-11.336361993, 426.897044958), (-11.336361993, 428.891474307))
            Line((-11.336361993, 428.891474307), (-9.082302788, 428.891474307))
            Line((-9.082302788, 428.891474307), (-7.984776578, 426.897044958))
            Line((-7.984776578, 426.897044958), (-7.099674796, 426.897044958))
            Line((-7.099674796, 426.897044958), (-8.308442263, 429.061837603))
            ThreePointArc((-8.308442263, 429.061837603), (-7.126128883, 431.280718877), (-8.679110401, 433.257976432))
        make_face()
        with BuildLine():
            Line((-11.336361993, 429.565125179), (-11.336361993, 432.608901792))
            Line((-11.336361993, 432.608901792), (-9.419247193, 432.629199169))
            ThreePointArc((-9.419247193, 432.629199169), (-7.877735937, 431.249855005), (-9.07795787, 429.565125179))
            Line((-9.07795787, 429.565125179), (-11.336361993, 429.565125179))
        make_face(mode=Mode.SUBTRACT)
    # profile 3 of 5: a face of its own
    with BuildSketch(Plane.XY.offset(15)):
        with BuildLine():
            Line((1.927575724, 433.257976432), (1.265210024, 433.257976432))
            Line((1.265210024, 433.257976432), (1.265210024, 428.651785914))
            ThreePointArc((1.265210024, 428.651785914), (3.560087537, 426.960211879), (5.887040157, 428.607384312))
            Line((5.887040157, 428.607384312), (5.887040157, 433.257976432))
            Line((5.887040157, 433.257976432), (5.239369495, 433.257976432))
            Line((5.239369495, 433.257976432), (5.239369495, 428.651785914))
            ThreePointArc((5.239369495, 428.651785914), (3.583472609, 427.579607678), (1.927575724, 428.651785914))
            Line((1.927575724, 428.651785914), (1.927575724, 433.257976432))
        make_face()
    # profile 4 of 5: a face of its own
    with BuildSketch(Plane.XY.offset(15)):
        with BuildLine():
            Line((10.340189816, 433.257976432), (7.89381302, 433.257976432))
            Line((7.89381302, 433.257976432), (7.89381302, 426.897044958))
            Line((7.89381302, 426.897044958), (8.570850647, 426.897044958))
            Line((8.570850647, 426.897044958), (8.570850647, 428.891474307))
            Line((8.570850647, 428.891474307), (10.861492454, 428.88852013))
            ThreePointArc((10.861492454, 428.88852013), (12.540411669, 431.30465081), (10.340189816, 433.257976432))
        make_face()
        with BuildLine():
            Line((10.91303487, 429.564151662), (8.570850647, 429.564151662))
            Line((8.570850647, 429.564151662), (8.570850647, 432.552426575))
            Line((8.570850647, 432.552426575), (10.821543299, 432.552426575))
            ThreePointArc((10.821543299, 432.552426575), (11.924576252, 431.090659923), (10.91303487, 429.564151662))
        make_face(mode=Mode.SUBTRACT)
    # profile 5 of 5: a face of its own
    with BuildSketch(Plane.XY.offset(15)):
        with Locations((-3.219937476, 430.075564625)):
            Circle(SKETCH25_R)
        with Locations((-3.219937476, 430.075564625)):
            Circle(SKETCH25_R_2, mode=Mode.SUBTRACT)
    extrude(amount=-CUT_EXTRUDE33_DEPTH, mode=Mode.SUBTRACT)

    # Sketch37 → Cut-Extrude34 (cut)
    with BuildSketch(Plane.XY.offset(15)):
        with BuildLine():
            Line((-28.622123434, 430.608561233), (-24.723469474, 427.115831873))
            add(Edge.make_bspline(
                [(-27.982734947, 437.733446551), (-25.113467793, 435.443376381), (-20.118028269, 431.211278232), (-24.723469474, 427.115831873)],
                knots=[0, 0, 0, 0, 1, 1, 1, 1], degree=3))
            add(Edge.make_bspline(
                [(-27.982734947, 437.733446551), (-30.364083053, 436.505708646), (-30.491678834, 432.47370287), (-28.622123434, 430.608561233)],
                knots=[0, 0, 0, 0, 1, 1, 1, 1], degree=3))
        make_face()
    extrude(amount=-CUT_EXTRUDE34_DEPTH, mode=Mode.SUBTRACT)


solid = part_1.part
